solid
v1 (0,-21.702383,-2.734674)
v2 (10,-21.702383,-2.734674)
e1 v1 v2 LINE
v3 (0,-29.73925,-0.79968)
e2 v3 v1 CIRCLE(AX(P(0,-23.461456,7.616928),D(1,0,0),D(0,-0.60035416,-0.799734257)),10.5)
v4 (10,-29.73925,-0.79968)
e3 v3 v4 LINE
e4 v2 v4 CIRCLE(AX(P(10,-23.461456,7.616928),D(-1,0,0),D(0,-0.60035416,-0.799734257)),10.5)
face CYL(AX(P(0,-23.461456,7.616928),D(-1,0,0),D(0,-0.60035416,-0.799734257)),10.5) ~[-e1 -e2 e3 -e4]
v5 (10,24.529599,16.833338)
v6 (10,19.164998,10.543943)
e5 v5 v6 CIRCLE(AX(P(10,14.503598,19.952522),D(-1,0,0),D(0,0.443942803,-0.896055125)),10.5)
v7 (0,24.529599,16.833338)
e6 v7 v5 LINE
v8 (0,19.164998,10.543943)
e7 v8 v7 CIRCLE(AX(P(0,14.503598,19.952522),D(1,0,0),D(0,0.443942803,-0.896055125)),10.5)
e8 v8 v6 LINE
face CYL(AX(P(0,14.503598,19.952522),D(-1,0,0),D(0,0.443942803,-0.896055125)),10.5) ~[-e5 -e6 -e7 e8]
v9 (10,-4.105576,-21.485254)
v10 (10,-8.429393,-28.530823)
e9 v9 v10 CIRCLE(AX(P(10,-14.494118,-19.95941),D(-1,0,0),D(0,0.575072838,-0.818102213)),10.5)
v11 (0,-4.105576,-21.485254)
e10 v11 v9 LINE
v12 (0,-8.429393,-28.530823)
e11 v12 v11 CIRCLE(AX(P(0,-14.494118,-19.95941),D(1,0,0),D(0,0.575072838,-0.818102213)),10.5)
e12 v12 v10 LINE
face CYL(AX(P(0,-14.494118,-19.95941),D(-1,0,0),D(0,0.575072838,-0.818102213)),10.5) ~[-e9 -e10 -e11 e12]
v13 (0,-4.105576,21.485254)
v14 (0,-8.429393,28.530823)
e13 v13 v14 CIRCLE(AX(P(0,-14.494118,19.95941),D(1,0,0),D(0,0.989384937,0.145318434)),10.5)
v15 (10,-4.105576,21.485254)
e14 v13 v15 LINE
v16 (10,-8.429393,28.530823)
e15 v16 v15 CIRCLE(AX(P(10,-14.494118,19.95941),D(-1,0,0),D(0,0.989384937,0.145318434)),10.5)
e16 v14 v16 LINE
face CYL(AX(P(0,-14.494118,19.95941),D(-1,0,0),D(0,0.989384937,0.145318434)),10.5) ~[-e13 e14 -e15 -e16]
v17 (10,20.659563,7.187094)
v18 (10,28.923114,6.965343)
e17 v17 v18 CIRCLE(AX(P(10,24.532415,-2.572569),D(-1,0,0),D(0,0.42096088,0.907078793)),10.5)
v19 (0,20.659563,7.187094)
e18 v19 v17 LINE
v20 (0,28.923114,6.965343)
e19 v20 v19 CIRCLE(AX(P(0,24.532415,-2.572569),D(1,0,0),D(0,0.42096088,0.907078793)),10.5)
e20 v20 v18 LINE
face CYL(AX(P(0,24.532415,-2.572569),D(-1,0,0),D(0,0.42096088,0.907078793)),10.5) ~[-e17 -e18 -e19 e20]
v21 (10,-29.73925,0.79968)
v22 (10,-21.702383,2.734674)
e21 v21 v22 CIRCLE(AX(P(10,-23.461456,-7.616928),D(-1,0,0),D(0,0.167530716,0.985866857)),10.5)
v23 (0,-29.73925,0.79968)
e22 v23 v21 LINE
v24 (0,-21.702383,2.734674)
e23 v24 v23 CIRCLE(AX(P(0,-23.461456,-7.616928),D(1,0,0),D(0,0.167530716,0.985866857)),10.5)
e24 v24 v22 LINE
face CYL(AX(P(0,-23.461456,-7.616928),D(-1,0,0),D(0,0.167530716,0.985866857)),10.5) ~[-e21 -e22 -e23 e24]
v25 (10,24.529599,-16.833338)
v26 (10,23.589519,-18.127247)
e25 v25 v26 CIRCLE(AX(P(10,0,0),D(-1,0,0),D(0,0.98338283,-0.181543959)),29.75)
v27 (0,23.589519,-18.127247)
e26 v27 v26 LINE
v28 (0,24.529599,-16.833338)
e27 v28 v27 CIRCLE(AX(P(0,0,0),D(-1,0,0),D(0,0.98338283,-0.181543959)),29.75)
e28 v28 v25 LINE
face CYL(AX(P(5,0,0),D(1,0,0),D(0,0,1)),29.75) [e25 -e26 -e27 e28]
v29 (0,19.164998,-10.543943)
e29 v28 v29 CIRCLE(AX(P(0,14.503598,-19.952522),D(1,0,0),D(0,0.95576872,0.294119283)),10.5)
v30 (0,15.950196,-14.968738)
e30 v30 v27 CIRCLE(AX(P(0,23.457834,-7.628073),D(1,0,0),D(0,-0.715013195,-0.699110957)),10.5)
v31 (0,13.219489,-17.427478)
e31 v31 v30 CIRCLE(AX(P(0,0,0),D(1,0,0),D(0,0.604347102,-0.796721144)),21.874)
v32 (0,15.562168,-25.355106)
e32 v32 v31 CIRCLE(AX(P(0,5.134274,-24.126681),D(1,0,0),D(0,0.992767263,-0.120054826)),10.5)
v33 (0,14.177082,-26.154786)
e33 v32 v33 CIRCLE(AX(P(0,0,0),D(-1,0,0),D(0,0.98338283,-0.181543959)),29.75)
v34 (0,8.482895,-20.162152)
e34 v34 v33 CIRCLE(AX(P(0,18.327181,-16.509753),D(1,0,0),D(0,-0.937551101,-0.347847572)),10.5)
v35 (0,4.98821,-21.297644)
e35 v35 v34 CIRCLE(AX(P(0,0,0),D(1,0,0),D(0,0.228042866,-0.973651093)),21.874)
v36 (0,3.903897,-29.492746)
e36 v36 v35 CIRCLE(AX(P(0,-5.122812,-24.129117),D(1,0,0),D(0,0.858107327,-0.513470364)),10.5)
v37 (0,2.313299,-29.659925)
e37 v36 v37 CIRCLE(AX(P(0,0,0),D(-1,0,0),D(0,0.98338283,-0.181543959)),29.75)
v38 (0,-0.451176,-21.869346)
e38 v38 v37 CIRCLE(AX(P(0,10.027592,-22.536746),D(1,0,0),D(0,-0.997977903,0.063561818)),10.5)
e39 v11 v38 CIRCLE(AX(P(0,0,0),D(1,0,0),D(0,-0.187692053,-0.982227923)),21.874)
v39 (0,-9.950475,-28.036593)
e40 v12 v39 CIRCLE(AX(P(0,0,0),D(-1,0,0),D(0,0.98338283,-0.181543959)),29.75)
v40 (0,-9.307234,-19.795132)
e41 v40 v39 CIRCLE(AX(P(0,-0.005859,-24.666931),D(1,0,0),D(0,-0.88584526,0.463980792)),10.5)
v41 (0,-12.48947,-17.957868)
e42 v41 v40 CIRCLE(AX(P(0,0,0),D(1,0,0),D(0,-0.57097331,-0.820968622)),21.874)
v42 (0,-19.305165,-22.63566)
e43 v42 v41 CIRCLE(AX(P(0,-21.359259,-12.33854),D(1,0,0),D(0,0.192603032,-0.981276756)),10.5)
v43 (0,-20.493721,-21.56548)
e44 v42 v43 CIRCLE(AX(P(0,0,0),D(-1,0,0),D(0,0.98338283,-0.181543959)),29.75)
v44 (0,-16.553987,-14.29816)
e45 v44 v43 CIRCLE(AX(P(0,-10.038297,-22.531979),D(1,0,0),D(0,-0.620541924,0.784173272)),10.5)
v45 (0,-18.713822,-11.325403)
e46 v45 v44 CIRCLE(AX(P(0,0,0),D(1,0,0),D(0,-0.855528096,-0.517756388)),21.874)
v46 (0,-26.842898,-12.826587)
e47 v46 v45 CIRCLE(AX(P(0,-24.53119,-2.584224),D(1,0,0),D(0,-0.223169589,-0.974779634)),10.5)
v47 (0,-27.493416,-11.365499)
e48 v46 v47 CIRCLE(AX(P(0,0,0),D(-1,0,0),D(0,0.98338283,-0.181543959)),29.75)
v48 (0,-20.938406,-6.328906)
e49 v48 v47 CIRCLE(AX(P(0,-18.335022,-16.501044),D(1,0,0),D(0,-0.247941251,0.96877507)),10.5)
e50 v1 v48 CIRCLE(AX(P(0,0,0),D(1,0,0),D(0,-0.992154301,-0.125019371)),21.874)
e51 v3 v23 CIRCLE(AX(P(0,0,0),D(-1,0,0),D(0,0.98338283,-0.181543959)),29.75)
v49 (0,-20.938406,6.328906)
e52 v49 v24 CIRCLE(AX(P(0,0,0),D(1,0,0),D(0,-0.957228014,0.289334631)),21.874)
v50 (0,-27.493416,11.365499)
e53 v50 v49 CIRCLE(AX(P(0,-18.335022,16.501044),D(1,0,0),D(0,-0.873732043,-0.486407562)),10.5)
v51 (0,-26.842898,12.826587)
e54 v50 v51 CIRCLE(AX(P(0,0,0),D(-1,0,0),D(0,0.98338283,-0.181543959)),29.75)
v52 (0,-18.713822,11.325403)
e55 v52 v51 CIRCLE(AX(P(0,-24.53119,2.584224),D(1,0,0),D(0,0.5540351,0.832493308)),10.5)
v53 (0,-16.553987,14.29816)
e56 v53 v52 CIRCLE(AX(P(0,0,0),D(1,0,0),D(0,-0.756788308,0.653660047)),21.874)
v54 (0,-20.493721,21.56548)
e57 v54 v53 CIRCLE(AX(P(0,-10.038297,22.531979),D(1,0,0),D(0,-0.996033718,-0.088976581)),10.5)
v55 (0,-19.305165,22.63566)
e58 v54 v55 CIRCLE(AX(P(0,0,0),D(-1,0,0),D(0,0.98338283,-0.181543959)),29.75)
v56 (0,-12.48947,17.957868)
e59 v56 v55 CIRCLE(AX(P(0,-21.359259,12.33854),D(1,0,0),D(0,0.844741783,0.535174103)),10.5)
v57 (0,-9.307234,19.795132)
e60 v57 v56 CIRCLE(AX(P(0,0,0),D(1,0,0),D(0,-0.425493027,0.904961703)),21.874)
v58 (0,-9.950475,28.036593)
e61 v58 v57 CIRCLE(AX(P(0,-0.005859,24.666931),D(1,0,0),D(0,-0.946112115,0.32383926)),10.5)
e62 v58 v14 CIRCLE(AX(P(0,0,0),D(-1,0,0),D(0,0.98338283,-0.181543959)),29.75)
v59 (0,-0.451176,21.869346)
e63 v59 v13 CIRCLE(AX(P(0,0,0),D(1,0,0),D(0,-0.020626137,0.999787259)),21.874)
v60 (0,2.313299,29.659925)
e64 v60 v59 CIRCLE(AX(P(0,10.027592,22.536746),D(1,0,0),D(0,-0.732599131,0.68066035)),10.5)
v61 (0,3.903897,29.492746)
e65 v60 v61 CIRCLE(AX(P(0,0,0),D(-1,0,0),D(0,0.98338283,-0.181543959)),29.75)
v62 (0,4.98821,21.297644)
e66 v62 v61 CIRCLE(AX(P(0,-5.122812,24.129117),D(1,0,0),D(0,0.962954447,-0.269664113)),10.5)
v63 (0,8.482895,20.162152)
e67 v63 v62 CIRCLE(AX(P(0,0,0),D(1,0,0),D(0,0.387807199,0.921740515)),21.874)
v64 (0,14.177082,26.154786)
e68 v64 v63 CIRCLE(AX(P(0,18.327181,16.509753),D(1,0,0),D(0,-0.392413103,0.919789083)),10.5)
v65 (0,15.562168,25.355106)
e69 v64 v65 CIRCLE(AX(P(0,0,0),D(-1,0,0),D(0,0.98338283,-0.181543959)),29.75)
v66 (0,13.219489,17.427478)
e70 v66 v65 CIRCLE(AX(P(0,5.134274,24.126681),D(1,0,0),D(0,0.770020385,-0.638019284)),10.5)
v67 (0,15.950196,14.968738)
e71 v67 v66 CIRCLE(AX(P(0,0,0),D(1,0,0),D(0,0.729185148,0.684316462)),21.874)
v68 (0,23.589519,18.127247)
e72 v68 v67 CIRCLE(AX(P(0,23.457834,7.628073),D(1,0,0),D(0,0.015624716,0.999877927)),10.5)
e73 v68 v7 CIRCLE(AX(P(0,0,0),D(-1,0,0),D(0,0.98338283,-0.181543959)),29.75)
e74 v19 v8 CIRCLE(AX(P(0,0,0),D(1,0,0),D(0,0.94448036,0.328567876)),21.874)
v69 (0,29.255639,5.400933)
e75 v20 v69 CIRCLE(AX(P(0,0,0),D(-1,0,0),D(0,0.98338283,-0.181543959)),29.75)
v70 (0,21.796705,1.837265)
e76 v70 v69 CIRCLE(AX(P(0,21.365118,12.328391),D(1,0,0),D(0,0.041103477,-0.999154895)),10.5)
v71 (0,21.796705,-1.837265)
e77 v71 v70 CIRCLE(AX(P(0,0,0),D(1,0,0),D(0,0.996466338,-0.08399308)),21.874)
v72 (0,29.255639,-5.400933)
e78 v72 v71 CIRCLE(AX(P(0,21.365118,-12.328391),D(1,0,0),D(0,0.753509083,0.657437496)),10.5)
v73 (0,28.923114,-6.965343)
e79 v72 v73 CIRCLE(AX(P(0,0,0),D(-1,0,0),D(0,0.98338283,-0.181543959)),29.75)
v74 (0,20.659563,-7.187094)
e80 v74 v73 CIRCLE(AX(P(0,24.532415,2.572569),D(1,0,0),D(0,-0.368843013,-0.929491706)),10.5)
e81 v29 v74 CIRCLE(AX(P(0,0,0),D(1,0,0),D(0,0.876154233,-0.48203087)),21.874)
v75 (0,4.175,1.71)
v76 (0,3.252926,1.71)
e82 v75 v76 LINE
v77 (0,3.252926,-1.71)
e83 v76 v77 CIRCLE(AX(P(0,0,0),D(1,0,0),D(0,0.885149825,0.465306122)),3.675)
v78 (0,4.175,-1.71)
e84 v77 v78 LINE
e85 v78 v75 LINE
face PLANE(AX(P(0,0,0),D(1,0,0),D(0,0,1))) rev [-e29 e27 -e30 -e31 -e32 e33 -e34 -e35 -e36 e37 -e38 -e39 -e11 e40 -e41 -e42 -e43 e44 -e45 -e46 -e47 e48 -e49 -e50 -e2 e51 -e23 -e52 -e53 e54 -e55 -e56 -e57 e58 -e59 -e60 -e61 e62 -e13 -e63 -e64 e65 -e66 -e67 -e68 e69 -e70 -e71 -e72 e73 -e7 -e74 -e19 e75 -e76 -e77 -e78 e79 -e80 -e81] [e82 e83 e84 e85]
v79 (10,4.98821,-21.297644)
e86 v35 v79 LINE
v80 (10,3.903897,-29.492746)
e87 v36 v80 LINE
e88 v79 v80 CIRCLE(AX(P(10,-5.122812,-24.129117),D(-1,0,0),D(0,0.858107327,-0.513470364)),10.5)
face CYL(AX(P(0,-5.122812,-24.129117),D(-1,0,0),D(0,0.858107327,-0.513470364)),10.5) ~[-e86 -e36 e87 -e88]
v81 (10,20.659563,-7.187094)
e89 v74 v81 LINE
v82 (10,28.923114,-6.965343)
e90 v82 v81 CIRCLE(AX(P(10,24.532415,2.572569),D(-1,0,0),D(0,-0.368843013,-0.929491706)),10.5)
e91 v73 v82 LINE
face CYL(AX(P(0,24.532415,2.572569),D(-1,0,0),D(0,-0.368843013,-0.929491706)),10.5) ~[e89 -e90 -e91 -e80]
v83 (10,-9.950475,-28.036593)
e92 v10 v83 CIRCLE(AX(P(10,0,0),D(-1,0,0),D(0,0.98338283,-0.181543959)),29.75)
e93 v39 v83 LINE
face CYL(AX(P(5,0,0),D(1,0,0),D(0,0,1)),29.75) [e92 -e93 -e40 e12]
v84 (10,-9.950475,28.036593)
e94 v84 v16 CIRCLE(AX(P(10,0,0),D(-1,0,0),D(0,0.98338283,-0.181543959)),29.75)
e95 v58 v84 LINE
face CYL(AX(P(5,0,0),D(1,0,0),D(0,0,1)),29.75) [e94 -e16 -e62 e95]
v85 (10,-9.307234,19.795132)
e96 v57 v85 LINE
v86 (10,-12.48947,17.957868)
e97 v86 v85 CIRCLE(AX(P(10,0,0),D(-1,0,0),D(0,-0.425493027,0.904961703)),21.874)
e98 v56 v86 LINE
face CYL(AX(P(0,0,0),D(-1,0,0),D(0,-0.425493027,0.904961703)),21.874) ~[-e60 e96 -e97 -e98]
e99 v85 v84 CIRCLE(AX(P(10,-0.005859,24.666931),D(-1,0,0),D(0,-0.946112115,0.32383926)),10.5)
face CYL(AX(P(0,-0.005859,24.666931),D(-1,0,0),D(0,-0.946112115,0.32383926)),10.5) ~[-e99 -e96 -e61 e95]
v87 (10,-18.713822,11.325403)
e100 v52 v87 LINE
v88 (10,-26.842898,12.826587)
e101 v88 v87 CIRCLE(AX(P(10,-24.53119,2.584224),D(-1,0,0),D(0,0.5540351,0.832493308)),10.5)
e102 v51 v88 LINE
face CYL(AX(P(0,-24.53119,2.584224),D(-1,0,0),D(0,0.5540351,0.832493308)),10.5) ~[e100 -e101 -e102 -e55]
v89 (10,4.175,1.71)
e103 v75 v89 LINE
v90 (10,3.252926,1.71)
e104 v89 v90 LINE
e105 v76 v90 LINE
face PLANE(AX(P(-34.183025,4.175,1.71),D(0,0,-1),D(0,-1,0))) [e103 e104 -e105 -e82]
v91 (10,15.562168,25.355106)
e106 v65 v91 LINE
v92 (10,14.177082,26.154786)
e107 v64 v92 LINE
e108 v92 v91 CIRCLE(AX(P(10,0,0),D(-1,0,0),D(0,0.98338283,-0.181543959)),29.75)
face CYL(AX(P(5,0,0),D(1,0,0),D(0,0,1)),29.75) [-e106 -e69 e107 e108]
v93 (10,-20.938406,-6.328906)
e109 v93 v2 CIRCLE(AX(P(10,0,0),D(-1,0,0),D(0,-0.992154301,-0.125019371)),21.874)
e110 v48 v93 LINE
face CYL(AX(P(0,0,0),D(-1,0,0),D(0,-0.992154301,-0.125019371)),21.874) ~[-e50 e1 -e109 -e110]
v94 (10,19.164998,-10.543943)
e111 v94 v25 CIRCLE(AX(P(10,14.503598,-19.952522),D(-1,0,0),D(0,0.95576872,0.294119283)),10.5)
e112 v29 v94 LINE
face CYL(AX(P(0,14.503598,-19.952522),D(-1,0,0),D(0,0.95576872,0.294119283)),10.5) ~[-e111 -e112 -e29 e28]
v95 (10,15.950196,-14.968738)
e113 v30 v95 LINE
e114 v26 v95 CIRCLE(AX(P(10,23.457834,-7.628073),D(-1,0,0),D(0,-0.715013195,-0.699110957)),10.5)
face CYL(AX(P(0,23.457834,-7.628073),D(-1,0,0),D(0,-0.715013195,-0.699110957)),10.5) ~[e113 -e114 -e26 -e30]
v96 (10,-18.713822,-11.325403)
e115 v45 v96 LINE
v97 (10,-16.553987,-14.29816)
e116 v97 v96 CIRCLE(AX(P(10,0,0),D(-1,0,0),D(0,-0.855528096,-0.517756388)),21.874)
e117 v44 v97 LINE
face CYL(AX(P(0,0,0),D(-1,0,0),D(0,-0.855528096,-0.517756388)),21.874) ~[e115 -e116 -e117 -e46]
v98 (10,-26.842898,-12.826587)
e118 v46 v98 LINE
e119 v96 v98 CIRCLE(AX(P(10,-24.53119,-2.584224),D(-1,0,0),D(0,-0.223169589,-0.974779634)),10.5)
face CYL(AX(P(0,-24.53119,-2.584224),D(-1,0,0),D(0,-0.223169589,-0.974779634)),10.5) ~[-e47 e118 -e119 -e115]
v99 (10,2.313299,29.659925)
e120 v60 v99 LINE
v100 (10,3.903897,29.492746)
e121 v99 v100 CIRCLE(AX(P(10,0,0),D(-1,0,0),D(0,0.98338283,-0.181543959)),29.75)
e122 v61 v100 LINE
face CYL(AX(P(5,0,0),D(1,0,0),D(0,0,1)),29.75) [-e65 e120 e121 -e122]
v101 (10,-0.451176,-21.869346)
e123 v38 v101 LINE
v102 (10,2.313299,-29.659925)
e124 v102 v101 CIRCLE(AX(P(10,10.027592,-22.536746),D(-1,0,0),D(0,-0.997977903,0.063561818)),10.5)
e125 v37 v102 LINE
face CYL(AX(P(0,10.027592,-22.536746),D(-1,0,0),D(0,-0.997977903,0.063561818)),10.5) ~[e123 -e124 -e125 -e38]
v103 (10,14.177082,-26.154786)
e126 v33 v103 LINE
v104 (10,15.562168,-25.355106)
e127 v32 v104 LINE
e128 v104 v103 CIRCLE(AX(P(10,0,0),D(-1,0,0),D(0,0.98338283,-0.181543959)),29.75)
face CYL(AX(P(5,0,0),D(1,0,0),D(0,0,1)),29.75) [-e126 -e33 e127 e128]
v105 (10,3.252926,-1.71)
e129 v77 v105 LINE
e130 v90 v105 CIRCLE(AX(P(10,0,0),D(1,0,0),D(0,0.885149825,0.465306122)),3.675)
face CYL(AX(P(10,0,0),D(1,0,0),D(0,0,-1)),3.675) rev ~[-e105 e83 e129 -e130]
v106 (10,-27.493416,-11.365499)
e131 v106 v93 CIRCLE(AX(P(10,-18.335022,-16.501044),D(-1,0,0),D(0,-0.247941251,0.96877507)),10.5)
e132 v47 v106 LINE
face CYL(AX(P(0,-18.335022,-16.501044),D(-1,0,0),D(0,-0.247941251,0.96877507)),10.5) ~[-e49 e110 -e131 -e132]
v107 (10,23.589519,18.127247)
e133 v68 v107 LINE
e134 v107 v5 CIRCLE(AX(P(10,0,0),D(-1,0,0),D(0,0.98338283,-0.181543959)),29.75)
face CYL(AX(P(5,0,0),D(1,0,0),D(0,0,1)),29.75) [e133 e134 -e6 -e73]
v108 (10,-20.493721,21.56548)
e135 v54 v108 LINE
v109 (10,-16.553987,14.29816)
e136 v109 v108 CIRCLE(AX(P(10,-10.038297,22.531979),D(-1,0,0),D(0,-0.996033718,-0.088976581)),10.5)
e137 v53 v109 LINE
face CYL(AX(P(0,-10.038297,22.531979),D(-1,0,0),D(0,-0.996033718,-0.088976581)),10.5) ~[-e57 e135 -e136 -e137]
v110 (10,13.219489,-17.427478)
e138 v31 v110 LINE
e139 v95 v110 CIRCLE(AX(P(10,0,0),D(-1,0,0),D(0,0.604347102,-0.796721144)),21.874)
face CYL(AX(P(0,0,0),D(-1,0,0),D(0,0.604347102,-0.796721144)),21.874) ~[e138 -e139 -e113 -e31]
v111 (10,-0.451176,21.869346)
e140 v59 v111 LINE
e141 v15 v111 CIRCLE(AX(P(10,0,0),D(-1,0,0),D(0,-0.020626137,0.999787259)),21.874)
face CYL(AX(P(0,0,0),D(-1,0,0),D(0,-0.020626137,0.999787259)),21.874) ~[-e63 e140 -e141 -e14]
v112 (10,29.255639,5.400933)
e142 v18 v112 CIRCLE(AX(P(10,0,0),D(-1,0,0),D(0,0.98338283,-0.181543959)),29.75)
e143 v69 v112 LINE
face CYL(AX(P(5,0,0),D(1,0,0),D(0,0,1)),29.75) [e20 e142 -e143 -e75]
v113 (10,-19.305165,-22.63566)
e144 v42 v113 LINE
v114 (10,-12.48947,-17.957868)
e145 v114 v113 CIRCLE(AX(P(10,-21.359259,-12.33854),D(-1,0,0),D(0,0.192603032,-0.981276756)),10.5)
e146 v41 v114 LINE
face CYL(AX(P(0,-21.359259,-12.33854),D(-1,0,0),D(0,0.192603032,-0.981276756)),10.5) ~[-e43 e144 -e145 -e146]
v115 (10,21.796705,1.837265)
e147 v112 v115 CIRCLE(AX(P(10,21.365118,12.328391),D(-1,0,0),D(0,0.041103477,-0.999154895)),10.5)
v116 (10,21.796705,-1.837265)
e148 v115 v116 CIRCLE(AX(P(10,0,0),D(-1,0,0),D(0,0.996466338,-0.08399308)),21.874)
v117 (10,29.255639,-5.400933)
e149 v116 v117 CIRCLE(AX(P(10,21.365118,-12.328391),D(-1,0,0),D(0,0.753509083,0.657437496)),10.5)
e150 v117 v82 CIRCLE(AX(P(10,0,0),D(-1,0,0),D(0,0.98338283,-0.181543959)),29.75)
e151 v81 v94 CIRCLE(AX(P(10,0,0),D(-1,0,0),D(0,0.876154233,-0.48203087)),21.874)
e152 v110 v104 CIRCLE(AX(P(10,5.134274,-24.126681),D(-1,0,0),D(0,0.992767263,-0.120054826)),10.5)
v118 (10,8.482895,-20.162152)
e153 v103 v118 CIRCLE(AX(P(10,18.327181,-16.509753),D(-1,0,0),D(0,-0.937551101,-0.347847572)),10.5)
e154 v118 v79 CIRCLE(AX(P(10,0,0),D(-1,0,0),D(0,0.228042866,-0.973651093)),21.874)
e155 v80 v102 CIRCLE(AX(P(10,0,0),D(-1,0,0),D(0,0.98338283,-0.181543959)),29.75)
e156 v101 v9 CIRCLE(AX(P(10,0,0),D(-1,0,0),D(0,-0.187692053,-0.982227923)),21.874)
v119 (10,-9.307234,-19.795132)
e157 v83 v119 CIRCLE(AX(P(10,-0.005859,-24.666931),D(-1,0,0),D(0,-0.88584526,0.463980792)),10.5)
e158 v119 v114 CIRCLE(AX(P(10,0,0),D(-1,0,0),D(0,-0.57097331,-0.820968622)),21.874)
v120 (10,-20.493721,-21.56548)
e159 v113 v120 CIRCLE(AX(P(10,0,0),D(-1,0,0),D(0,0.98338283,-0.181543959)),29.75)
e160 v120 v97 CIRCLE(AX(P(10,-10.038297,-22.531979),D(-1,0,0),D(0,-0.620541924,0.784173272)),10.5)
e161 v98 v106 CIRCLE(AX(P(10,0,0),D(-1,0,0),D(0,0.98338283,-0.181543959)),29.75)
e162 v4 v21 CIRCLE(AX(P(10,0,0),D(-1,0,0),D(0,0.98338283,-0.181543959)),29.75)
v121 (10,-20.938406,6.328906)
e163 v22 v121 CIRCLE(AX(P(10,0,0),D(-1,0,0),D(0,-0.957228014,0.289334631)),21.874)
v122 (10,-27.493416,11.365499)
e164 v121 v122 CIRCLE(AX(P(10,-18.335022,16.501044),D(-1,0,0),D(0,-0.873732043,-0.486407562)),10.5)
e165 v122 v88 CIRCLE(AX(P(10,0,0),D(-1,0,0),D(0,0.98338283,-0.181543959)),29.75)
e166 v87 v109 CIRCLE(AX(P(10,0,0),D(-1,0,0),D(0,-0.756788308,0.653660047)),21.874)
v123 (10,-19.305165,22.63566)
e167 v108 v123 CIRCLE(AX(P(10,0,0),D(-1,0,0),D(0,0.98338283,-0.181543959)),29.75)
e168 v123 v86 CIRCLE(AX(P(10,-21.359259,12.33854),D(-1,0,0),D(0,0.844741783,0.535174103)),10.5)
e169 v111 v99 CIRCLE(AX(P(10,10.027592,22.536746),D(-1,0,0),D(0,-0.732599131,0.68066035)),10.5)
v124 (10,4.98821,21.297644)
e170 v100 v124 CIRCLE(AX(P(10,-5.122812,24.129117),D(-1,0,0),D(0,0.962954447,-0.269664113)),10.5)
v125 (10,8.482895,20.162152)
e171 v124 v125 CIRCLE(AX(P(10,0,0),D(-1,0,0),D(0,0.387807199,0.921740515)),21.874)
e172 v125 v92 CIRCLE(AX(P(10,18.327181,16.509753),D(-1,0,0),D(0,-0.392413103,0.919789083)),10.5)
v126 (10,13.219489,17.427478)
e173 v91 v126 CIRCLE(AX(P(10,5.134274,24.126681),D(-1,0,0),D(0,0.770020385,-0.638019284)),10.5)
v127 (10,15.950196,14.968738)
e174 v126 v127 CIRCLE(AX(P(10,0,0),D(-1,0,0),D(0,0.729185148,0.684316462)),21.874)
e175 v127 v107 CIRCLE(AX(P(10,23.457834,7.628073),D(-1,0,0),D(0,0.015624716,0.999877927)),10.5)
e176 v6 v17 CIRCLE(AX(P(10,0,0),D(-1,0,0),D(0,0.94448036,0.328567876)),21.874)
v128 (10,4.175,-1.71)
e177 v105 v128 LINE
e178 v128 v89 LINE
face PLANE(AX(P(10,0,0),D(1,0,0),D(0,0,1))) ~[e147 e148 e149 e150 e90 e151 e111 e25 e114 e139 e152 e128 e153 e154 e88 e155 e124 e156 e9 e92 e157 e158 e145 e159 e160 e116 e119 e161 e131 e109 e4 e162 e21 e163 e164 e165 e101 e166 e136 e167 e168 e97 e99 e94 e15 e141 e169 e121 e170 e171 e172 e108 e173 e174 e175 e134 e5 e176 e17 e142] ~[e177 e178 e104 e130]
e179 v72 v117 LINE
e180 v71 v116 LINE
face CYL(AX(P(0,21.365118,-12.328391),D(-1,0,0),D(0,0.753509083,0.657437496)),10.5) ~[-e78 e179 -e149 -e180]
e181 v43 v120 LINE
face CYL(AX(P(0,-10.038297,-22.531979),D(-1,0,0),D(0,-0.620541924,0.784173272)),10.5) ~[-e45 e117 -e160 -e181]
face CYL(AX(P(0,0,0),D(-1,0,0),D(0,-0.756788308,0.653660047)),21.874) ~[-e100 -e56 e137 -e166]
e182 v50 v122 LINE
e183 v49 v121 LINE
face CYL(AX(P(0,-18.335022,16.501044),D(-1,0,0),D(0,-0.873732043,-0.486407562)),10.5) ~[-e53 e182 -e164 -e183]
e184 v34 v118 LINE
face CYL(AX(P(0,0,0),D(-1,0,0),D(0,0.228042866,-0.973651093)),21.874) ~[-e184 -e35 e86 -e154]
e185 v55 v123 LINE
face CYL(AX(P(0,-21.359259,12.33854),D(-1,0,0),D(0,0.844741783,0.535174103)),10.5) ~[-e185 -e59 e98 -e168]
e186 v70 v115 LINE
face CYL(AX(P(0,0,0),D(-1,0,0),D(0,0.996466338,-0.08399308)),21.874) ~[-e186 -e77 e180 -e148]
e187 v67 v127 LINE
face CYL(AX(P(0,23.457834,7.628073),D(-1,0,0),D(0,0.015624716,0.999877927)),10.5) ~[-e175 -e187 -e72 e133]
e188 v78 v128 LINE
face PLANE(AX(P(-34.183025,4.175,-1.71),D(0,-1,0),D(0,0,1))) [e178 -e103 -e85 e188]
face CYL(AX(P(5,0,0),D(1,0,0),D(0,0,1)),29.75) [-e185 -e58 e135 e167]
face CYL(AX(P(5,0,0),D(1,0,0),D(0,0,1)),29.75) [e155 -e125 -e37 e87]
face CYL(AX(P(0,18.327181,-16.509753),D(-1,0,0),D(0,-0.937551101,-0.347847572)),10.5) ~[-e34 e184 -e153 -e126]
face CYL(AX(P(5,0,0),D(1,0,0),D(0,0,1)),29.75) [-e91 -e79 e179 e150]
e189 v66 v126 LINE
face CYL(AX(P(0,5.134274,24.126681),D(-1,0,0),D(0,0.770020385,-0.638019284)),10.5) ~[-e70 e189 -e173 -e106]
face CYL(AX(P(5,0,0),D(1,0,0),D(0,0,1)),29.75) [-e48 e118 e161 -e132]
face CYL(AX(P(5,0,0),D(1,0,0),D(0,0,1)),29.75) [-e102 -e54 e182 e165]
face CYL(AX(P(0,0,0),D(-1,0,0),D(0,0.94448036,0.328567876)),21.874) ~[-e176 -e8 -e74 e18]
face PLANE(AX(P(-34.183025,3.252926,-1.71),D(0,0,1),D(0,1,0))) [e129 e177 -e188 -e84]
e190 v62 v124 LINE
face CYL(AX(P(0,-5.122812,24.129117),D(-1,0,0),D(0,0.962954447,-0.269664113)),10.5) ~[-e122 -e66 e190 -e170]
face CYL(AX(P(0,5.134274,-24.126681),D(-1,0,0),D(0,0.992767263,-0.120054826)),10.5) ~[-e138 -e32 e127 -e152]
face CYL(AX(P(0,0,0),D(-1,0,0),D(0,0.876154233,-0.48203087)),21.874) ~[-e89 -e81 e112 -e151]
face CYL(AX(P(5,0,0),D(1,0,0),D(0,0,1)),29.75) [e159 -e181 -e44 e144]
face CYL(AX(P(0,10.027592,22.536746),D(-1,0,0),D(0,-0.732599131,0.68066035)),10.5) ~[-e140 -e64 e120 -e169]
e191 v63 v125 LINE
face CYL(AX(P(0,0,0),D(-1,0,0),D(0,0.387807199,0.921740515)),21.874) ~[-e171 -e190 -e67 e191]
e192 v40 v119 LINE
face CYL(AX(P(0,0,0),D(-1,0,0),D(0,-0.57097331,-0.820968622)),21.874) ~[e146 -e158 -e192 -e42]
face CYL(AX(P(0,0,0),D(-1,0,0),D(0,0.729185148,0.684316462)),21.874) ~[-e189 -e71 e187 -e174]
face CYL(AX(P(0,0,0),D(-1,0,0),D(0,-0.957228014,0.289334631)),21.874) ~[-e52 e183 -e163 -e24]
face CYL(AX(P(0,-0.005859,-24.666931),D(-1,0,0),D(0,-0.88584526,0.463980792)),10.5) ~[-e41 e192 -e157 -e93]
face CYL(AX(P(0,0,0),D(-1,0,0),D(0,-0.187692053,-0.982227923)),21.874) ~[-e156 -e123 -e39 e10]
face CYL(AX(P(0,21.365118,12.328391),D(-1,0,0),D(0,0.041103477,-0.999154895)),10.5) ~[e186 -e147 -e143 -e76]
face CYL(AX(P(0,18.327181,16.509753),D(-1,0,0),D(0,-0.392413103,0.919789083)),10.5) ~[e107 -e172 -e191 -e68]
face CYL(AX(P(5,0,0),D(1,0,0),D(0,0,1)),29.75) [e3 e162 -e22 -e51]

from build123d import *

# Parameters (mm, degrees)
BASPROSKE_W             = 10
BASPROSKE_H             = 29.75
TOOTHCUT_DEPTH          = 44.244941901
TEETHCUTS_COUNT         = 15
TEETHCUTS_ANGLE         = 336
BORSKE_R                = 3.5
BORE_DEPTH              = 50.0000508
SKETCH1_R               = 3.675
CUT_EXTRUDE1_DEPTH      = 10
CUT_EXTRUDE2_DEPTH      = 44.183025
CUT_EXTRUDE2_DEPTH_BACK = 44.183025


with BuildPart() as part:
    # BasProSke → Base-Revolve (revolve)
    with BuildSketch(Plane(origin=(0, 0, 0), x_dir=(1, 0, 0), z_dir=(0, 1, 0)), mode=Mode.PRIVATE) as base_revolve_sk:
        with Locations((5, 14.875)):
            Rectangle(BASPROSKE_W, BASPROSKE_H)
    revolve(base_revolve_sk.sketch.rotate(Axis((-10, 0, 0), (1, 0, 0)), 180), axis=Axis((-10, 0, 0), (1, 0, 0)))

    # TooCutSke → ToothCut (cut, through all)
    with BuildSketch(Plane(origin=(0, 0, 0), x_dir=(0, 0, -1), z_dir=(1, 0, 0))):
        with BuildLine():
            ThreePointArc((1.837264636, 21.796704674), (0, 21.874), (-1.837264636, 21.796704674))
            ThreePointArc((-1.837264636, 21.796704674), (-2.861169083, 25.906231304), (-5.425297323, 29.27696354))
            ThreePointArc((-5.425297323, 29.27696354), (0, 29.7754), (5.425297323, 29.27696354))
            ThreePointArc((5.425297323, 29.27696354), (2.861169083, 25.906231304), (1.837264636, 21.796704674))
        make_face()
    toothcut = extrude(amount=TOOTHCUT_DEPTH, mode=Mode.SUBTRACT)

    # TeethCuts: ToothCut ×15 about axis
    teethcuts_axis = Axis((-10, 0, 0), (1, 0, 0))
    for i in range(1, TEETHCUTS_COUNT):
        add(toothcut.rotate(teethcuts_axis, i * TEETHCUTS_ANGLE / (TEETHCUTS_COUNT - 1)), mode=Mode.SUBTRACT)

    # BorSke → Bore (cut, symmetric)
    with BuildSketch(Plane(origin=(0, 0, 0), x_dir=(0, 0, -1), z_dir=(1, 0, 0))):
        with Locations(Location((0, 0, 0), (0, 0, 180))):
            Circle(BORSKE_R)
    extrude(amount=BORE_DEPTH, both=True, mode=Mode.SUBTRACT)

    # Sketch1 → Cut-Extrude1 (cut)
    with BuildSketch(Plane(origin=(10, 0, 0), x_dir=(0, 0, -1), z_dir=(1, 0, 0))):
        Circle(SKETCH1_R)
    extrude(amount=-CUT_EXTRUDE1_DEPTH, mode=Mode.SUBTRACT)

    # Sketch2 → Cut-Extrude2 (cut, two sides: drawn at the far end of the back side and taken through both)
    with BuildSketch(Plane(origin=(10, 0, 0), x_dir=(0, 0, -1), z_dir=(1, 0, 0)).offset(-CUT_EXTRUDE2_DEPTH_BACK)):
        with BuildLine():
            Line((1.71, 3.252925606), (1.71, 3.675))
            Line((1.71, 3.675), (1.71, 4.175))
            Line((1.71, 4.175), (-1.71, 4.175))
            Line((-1.71, 4.175), (-1.71, 3.675))
            Line((-1.71, 3.675), (-1.71, 3.252925606))
            ThreePointArc((-1.71, 3.252925606), (-0.880659809, 3.567921426), (0, 3.675))
            ThreePointArc((0, 3.675), (0.880659809, 3.567921426), (1.71, 3.252925606))
        make_face()
    extrude(amount=CUT_EXTRUDE2_DEPTH + CUT_EXTRUDE2_DEPTH_BACK, mode=Mode.SUBTRACT)


solid = part.part
